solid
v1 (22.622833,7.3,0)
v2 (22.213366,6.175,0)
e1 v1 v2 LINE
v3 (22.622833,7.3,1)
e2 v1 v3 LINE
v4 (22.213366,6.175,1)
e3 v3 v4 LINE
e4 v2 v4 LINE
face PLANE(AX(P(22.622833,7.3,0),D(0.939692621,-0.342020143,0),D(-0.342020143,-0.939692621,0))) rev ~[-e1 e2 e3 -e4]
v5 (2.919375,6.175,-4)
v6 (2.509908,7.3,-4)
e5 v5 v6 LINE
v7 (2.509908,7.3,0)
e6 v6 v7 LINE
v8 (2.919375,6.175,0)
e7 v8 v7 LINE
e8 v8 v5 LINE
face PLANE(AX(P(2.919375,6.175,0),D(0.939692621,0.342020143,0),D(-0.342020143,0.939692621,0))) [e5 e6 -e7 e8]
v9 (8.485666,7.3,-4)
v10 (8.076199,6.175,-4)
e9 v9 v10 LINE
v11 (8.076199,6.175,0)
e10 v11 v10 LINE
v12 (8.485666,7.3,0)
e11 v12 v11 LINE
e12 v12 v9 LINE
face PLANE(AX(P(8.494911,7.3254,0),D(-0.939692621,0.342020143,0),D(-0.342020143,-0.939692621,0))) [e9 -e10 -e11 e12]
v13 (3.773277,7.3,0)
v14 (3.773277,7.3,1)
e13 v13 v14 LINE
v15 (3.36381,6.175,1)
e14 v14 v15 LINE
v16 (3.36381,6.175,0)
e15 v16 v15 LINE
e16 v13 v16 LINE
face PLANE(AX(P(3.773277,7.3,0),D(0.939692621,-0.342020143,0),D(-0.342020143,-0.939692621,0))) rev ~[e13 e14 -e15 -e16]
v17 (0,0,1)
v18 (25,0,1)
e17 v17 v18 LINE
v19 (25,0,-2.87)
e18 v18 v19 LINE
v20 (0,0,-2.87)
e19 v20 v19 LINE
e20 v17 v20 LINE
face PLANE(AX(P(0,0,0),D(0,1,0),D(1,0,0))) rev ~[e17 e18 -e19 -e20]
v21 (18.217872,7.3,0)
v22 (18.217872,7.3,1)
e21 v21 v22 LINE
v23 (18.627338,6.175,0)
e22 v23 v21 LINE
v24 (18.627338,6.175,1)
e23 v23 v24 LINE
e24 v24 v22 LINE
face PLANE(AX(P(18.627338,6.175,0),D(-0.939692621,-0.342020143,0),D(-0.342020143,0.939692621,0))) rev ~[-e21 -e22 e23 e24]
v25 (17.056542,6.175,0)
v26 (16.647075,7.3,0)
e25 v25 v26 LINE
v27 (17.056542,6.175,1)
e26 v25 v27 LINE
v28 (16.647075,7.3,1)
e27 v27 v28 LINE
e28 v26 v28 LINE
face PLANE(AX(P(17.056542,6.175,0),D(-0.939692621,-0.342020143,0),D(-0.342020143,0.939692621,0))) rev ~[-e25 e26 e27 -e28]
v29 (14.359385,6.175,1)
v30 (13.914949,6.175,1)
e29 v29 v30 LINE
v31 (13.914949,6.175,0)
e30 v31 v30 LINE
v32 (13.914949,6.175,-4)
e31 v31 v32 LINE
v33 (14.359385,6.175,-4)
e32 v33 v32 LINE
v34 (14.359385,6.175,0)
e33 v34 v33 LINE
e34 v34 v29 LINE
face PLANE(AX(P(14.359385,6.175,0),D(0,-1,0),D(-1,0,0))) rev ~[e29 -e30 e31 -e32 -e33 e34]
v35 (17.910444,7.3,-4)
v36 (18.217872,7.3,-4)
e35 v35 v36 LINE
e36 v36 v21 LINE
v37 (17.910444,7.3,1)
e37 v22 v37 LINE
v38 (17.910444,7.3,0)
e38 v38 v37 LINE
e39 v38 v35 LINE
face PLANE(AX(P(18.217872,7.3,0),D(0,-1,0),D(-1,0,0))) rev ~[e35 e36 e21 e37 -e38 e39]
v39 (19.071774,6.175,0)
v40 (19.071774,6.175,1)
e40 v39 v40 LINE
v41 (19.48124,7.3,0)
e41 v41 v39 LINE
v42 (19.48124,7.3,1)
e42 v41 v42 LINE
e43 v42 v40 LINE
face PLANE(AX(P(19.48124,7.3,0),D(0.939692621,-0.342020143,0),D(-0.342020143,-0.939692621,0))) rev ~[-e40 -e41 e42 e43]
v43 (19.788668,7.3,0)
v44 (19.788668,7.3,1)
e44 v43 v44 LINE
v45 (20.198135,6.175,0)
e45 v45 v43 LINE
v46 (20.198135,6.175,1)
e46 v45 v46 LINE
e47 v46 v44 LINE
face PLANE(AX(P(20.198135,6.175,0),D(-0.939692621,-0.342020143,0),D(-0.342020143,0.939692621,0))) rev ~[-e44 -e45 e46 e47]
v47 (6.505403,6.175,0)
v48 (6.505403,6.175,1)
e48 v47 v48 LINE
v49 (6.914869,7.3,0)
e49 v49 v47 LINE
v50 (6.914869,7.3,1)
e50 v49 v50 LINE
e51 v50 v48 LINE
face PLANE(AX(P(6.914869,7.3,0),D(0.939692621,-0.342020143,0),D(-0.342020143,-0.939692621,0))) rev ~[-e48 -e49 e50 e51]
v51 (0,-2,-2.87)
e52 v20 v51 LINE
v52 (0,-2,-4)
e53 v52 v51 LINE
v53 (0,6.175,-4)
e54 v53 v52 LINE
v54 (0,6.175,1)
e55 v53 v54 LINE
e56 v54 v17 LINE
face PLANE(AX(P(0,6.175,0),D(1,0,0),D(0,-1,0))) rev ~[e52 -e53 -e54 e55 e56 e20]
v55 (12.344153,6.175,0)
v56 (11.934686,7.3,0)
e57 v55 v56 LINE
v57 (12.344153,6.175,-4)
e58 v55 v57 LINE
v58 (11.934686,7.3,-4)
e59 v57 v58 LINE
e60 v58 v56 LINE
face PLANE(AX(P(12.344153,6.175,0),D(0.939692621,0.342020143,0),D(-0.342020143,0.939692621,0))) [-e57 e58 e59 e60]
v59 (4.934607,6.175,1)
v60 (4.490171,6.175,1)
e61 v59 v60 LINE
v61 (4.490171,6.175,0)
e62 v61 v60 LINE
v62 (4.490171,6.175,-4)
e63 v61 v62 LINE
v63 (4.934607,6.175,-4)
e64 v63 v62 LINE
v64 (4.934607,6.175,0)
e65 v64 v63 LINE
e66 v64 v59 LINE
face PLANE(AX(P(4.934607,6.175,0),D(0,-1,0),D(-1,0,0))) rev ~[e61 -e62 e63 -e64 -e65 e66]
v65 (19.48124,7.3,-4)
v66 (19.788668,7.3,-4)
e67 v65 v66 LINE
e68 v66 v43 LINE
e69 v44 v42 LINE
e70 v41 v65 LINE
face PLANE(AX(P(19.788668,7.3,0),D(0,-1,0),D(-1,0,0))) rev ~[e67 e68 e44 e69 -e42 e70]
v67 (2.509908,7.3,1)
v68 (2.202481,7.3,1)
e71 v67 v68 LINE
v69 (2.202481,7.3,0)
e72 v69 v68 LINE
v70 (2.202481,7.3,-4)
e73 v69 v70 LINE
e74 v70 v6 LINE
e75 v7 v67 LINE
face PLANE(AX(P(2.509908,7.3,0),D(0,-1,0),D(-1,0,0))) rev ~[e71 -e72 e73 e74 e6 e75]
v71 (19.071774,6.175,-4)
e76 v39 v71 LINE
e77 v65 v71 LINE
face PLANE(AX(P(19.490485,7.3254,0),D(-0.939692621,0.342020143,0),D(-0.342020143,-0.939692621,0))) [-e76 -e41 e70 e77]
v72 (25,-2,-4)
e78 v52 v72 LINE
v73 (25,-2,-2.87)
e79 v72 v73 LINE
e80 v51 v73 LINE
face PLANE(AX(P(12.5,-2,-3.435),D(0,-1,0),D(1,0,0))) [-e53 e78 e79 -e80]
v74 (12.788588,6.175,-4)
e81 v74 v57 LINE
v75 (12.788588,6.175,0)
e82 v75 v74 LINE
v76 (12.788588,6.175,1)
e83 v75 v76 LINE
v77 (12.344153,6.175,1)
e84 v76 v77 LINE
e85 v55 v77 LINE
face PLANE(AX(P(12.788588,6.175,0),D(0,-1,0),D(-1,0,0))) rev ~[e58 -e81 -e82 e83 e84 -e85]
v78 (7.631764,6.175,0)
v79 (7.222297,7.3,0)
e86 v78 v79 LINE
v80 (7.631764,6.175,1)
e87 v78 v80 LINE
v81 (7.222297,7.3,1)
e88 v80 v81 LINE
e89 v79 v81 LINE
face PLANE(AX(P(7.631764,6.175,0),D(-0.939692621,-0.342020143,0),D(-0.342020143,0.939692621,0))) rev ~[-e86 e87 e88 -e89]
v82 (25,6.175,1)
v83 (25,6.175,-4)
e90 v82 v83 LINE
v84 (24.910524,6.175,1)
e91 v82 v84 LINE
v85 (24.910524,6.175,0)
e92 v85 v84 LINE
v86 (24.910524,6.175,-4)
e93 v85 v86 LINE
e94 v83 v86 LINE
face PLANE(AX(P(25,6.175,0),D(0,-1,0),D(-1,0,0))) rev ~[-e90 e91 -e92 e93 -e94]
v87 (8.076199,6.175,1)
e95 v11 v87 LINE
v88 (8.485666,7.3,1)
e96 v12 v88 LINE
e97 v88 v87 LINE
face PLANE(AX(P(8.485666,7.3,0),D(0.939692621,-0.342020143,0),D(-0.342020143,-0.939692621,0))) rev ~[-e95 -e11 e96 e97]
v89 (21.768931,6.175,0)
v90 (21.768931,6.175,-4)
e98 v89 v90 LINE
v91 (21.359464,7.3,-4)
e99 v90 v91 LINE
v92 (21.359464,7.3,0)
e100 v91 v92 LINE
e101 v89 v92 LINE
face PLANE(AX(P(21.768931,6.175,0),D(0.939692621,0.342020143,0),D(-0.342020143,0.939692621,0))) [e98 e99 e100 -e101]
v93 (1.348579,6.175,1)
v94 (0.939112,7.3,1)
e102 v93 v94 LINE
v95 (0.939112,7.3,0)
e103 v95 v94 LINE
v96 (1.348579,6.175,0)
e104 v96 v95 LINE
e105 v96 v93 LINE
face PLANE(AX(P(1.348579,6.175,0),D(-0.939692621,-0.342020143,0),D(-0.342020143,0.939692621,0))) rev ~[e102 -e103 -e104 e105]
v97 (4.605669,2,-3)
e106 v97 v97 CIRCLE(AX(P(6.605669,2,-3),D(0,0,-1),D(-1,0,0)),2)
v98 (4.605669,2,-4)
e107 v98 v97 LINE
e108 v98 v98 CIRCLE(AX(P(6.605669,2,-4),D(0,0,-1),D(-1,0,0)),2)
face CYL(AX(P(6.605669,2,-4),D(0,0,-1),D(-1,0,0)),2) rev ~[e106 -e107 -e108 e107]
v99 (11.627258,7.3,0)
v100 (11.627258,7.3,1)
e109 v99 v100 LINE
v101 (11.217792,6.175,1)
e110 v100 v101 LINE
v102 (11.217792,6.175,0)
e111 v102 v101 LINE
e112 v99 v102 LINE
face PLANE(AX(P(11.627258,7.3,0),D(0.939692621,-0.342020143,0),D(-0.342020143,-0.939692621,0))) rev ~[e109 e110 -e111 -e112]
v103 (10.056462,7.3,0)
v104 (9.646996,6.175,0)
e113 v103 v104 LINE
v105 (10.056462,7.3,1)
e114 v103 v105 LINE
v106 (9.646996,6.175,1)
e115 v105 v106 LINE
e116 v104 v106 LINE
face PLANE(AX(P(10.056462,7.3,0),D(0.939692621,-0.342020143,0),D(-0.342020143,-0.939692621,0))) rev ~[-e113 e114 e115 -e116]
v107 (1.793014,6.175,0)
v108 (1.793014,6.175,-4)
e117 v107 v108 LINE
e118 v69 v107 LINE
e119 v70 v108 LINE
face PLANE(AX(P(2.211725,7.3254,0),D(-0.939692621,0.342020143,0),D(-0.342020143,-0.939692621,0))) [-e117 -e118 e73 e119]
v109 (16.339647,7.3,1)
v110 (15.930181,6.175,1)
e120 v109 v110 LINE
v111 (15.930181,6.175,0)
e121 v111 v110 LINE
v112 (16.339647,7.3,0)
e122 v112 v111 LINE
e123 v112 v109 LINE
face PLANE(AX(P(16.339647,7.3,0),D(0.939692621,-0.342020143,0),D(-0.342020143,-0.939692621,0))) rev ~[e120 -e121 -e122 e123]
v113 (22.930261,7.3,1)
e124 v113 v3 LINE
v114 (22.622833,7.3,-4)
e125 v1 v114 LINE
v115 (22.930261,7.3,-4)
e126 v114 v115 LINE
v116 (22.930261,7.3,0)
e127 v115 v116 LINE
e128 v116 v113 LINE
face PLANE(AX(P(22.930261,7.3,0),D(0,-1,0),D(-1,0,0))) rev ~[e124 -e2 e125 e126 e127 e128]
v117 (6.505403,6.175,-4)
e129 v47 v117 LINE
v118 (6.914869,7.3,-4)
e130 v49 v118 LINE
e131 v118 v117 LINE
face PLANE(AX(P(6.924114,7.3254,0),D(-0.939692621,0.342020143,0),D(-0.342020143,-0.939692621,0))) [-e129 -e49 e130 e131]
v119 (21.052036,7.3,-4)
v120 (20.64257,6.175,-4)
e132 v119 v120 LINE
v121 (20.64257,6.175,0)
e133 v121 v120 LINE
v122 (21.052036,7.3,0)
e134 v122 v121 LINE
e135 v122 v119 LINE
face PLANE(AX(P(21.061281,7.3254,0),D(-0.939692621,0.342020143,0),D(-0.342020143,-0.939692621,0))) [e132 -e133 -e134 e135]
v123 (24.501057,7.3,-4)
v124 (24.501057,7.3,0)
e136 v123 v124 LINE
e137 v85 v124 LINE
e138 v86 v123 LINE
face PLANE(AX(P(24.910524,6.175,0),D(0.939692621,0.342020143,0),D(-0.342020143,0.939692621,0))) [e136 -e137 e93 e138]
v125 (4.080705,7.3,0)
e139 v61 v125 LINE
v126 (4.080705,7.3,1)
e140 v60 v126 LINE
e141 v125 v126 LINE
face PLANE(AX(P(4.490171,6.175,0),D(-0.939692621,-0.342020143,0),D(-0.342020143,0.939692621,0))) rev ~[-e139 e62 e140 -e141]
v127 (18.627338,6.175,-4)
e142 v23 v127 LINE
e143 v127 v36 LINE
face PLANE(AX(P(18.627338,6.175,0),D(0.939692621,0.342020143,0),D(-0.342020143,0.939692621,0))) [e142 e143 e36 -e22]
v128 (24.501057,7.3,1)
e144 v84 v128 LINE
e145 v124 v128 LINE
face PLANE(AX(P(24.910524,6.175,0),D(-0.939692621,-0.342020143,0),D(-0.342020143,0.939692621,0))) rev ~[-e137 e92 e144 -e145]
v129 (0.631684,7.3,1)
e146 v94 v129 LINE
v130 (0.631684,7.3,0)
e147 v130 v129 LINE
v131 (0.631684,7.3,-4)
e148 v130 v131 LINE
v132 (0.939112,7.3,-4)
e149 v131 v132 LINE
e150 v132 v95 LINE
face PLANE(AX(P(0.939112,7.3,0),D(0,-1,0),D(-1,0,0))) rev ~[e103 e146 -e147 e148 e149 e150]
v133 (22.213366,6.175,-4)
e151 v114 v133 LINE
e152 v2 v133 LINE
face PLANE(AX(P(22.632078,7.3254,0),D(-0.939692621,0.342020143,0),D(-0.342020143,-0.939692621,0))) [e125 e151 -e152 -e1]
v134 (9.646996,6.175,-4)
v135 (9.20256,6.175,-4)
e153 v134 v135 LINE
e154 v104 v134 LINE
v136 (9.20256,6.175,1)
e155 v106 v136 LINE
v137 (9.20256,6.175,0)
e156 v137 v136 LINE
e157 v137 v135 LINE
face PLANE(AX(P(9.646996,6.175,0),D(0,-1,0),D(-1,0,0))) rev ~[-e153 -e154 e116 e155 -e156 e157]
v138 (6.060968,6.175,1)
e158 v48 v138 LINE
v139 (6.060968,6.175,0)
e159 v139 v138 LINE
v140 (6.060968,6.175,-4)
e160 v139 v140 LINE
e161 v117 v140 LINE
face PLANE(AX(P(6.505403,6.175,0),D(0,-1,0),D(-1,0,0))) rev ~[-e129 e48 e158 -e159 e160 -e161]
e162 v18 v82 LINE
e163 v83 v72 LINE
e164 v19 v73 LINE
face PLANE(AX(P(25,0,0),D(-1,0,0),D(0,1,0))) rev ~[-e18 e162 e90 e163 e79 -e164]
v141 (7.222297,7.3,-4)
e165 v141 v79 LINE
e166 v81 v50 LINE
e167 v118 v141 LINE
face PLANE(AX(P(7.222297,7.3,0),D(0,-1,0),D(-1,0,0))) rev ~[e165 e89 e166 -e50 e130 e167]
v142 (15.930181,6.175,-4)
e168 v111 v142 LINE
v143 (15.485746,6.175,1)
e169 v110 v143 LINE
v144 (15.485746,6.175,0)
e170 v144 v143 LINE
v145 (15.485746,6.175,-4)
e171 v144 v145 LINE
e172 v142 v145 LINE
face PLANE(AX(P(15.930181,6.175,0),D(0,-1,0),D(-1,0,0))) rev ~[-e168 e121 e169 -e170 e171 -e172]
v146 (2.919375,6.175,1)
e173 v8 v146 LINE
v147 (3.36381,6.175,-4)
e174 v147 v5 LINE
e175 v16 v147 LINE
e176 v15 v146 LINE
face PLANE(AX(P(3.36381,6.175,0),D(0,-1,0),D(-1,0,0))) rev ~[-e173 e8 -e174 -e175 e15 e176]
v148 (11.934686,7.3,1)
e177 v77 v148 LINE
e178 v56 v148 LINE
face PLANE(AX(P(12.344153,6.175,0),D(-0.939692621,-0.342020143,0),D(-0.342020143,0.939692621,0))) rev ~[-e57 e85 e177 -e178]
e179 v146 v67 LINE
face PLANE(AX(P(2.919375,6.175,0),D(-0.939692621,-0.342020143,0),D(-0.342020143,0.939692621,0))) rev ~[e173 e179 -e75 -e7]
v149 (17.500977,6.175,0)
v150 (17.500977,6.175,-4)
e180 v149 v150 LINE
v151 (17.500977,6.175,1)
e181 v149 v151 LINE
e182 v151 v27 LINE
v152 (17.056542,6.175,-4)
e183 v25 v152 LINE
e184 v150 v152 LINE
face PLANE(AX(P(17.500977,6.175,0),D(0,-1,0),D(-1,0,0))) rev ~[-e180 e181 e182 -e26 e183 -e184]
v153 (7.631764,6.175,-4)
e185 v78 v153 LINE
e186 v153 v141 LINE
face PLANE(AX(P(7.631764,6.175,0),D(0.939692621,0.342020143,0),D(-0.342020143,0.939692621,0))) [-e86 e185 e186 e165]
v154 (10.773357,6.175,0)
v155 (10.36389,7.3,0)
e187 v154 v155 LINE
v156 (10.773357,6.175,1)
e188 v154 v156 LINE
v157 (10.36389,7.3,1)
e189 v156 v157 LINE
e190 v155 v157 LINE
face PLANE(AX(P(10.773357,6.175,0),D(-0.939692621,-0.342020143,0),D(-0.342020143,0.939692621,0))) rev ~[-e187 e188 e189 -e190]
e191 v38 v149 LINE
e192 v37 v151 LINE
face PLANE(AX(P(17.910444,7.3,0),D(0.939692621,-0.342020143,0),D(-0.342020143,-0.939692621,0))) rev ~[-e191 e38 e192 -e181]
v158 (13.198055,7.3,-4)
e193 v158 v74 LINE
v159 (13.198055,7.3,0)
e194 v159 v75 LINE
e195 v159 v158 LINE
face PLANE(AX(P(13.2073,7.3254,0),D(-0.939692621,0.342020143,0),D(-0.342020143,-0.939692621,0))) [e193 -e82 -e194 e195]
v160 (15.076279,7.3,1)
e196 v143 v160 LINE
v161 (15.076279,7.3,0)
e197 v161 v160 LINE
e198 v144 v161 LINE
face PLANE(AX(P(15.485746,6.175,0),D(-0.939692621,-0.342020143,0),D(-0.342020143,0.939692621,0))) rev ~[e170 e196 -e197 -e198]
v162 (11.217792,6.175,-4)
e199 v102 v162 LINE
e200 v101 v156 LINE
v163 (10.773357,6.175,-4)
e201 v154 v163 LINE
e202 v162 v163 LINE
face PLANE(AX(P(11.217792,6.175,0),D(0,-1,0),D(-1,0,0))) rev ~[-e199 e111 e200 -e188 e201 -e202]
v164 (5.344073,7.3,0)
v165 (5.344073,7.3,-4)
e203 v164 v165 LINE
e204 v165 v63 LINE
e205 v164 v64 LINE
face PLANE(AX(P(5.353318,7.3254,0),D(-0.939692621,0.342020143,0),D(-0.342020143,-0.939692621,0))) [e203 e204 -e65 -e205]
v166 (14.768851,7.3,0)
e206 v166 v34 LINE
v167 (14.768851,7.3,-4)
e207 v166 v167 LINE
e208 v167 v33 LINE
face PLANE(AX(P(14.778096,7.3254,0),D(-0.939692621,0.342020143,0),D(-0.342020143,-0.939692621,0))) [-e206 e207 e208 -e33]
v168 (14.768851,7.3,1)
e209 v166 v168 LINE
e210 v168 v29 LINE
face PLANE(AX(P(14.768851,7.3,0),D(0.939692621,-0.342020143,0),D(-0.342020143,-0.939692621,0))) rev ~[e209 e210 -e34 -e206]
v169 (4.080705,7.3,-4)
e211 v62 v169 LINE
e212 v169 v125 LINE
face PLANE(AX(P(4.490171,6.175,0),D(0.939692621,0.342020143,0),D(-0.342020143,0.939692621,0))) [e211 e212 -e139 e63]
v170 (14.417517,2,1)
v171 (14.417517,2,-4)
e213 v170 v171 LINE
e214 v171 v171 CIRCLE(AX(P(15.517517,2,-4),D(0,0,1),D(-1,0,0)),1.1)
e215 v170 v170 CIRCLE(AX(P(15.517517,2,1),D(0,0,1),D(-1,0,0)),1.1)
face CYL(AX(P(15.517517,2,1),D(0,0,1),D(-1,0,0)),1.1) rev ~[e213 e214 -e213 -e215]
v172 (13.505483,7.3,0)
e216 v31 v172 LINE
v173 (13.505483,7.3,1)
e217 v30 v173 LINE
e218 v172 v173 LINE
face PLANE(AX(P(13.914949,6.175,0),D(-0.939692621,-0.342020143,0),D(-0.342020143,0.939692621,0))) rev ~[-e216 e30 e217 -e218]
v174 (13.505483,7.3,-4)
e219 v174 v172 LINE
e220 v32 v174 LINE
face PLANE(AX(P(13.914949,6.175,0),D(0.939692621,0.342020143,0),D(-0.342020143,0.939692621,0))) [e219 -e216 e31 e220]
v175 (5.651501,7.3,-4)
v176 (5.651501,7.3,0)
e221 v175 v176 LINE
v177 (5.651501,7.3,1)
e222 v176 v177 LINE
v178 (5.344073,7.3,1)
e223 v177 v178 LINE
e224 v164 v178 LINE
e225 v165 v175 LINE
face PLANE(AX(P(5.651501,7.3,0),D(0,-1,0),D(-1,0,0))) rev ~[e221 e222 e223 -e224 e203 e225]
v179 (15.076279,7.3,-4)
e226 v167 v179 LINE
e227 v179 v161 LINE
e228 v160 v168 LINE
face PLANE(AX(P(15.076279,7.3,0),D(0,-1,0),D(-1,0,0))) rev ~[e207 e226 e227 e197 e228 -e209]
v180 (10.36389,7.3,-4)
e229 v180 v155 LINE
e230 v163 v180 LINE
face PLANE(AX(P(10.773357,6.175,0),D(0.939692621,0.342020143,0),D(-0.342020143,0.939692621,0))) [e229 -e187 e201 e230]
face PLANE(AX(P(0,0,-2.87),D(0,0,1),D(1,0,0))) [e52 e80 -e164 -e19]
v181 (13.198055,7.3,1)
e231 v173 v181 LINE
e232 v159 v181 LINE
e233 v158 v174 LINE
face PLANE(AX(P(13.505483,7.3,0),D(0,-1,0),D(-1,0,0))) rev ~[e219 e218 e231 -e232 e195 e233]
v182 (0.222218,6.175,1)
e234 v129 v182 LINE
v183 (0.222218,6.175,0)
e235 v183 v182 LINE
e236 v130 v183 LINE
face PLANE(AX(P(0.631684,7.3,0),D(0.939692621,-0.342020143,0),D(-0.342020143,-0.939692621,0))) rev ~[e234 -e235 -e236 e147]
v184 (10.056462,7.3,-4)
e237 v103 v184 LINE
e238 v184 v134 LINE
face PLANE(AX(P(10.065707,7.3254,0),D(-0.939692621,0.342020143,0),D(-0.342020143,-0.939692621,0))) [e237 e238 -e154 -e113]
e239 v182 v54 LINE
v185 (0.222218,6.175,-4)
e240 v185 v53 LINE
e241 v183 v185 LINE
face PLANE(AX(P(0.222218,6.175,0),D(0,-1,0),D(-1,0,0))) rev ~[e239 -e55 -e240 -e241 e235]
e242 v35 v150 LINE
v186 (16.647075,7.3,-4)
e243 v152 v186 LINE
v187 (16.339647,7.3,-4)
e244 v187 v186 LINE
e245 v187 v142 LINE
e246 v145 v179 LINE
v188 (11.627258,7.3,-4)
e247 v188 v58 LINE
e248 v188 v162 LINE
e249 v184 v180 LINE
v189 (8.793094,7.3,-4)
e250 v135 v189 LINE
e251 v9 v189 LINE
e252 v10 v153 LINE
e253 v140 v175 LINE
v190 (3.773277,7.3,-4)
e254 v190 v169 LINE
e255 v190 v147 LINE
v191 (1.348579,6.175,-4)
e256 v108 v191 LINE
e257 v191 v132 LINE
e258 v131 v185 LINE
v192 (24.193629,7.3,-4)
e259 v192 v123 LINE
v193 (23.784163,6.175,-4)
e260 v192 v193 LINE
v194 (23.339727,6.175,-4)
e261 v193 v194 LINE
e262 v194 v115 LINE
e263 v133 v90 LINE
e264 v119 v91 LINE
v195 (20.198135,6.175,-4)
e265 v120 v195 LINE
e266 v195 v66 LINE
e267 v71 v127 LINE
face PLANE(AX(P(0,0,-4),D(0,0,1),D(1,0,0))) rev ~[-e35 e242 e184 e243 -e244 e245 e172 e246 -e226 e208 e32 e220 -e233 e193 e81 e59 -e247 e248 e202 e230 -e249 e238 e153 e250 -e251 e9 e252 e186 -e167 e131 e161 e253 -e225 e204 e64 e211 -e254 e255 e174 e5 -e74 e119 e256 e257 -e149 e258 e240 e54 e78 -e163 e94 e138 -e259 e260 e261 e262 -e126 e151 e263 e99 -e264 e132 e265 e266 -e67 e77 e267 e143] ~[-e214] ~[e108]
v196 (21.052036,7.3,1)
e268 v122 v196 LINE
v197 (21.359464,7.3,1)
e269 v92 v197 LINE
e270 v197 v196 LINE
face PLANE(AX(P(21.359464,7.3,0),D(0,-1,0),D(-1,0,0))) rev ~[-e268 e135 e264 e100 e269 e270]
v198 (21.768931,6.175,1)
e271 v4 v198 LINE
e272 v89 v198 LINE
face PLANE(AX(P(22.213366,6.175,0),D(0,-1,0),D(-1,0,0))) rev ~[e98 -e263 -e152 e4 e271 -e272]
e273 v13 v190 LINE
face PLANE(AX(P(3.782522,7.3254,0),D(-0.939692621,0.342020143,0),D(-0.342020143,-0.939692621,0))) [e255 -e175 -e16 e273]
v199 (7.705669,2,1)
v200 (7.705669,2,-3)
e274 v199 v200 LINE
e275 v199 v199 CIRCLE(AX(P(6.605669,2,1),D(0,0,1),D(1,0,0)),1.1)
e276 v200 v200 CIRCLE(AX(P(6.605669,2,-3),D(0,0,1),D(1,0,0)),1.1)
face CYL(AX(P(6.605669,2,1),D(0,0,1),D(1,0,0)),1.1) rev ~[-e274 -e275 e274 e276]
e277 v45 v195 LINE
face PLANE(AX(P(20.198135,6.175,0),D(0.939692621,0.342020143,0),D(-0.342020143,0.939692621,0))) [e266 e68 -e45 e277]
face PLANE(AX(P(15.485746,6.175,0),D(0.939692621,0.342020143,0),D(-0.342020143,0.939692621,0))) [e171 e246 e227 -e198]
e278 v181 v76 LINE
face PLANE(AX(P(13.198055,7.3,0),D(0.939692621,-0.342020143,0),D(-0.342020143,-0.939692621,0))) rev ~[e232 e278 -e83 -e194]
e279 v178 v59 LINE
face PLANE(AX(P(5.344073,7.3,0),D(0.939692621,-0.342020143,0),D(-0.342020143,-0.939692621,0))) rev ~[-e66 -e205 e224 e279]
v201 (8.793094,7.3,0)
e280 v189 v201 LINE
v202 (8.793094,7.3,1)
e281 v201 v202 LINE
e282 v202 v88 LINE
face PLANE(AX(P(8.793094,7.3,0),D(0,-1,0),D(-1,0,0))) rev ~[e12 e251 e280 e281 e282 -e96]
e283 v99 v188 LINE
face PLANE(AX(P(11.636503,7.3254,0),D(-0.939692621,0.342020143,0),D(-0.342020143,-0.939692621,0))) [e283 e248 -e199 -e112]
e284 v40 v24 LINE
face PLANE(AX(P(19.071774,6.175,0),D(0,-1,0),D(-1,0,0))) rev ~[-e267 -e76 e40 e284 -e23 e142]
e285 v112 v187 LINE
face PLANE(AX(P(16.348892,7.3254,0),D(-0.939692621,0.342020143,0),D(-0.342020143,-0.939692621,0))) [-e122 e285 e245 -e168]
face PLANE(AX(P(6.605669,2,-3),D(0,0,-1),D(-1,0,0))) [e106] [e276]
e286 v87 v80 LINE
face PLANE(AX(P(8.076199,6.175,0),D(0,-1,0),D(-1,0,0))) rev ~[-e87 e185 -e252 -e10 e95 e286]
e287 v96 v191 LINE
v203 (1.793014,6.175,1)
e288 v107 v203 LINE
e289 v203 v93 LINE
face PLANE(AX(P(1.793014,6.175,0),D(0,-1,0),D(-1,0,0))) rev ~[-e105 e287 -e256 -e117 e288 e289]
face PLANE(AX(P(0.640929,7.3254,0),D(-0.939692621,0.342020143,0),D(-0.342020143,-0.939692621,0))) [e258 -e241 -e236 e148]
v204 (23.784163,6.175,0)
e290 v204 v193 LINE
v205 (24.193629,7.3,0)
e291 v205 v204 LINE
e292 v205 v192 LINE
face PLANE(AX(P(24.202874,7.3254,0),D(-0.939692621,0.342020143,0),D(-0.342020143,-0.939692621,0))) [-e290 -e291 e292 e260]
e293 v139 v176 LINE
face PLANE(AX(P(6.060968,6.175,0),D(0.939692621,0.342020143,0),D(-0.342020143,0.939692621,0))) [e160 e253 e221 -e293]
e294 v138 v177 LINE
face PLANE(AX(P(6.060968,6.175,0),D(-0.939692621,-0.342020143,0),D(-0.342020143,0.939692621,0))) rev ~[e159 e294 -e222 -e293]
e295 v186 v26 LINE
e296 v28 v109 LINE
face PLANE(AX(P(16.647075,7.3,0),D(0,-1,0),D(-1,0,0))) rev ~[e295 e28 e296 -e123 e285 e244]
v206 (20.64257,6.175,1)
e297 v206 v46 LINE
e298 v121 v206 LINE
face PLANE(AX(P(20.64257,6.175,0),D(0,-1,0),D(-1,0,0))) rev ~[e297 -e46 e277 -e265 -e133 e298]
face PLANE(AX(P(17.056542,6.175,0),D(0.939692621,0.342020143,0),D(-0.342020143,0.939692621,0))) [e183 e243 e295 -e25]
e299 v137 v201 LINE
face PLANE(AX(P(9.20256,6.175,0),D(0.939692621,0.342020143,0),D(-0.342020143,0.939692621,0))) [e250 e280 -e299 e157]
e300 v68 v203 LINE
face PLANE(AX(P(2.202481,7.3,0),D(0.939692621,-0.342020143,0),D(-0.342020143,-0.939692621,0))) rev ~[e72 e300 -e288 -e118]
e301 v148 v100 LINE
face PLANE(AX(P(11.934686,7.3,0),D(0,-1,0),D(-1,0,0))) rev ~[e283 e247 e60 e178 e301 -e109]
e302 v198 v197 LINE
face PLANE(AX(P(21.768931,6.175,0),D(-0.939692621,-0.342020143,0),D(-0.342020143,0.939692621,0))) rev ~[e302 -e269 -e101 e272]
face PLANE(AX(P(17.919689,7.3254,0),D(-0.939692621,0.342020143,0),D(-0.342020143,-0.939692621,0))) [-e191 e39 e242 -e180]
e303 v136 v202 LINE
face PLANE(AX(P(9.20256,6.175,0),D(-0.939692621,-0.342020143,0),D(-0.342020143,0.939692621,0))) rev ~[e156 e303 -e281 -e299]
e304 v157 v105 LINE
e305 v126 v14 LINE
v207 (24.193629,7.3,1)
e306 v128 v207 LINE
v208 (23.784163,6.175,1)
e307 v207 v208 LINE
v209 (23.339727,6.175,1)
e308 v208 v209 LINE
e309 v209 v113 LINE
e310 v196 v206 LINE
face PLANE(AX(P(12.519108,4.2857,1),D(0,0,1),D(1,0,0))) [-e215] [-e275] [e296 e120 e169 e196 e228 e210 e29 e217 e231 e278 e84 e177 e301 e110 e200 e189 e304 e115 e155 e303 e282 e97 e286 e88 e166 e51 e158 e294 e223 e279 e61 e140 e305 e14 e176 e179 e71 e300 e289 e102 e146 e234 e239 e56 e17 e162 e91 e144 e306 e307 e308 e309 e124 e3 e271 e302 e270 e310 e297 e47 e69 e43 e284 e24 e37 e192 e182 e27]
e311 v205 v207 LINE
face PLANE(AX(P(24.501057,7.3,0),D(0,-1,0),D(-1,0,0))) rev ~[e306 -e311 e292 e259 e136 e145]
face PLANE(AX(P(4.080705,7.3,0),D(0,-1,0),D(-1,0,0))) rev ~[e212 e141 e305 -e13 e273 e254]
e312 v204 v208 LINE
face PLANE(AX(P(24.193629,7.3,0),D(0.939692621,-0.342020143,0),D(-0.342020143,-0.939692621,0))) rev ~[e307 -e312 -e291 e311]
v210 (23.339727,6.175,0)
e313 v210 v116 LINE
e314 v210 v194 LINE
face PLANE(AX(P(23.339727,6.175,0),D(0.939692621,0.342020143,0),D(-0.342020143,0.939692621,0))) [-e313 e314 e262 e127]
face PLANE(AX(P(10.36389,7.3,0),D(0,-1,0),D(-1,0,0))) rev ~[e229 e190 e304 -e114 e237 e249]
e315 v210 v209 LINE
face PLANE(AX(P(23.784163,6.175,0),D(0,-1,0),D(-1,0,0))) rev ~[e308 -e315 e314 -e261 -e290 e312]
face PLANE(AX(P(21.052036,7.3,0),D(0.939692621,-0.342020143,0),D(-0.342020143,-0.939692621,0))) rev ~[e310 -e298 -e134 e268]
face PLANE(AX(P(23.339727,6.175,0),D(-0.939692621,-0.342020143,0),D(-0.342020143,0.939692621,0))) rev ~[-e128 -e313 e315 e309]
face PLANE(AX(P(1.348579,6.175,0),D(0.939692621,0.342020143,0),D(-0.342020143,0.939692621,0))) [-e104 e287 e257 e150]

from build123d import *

# Parameters (mm, degrees)
BLANKSKE_W          = 25
BLANKSKE_H          = 7.3
BLANK_DEPTH         = 4
TOOTHCUTSIM_DEPTH   = 27.349383294
TEETHCUTS_COUNT     = 17
TEETHCUTS_PITCH     = 1.570796325
SKETCH4_W           = 25
SKETCH4_H           = 1.13
BOSS_EXTRUDE1_DEPTH = 2
BOSS_EXTRUDE2_DEPTH = 1
CUT_EXTRUDE1_DEPTH  = 10
SKETCH10_R          = 2
CUT_EXTRUDE3_DEPTH  = 1


with BuildPart() as part:
    # BlankSke → Blank (new body)
    with BuildSketch(Plane.XY):
        with Locations((12.5, 3.65)):
            Rectangle(BLANKSKE_W, BLANKSKE_H)
    extrude(amount=-BLANK_DEPTH)

    # TooCutSkeSim → ToothCutSim (cut, through all)
    with BuildSketch(Plane.XY):
        Polygon((0.222217685, 6.175), (-0.222217685, 6.175), (-0.640929042, 7.3254), (0.640929042, 7.3254), align=None)
    toothcutsim = extrude(amount=-TOOTHCUTSIM_DEPTH, mode=Mode.SUBTRACT)

    # TeethCuts: ToothCutSim ×17
    with Locations(*[(i * TEETHCUTS_PITCH, 0, 0) for i in range(1, TEETHCUTS_COUNT)]):
        add(toothcutsim, mode=Mode.SUBTRACT)

    # Sketch4 → Boss-Extrude1 (add)
    with BuildSketch(Plane.XZ):
        with Locations((12.5, -3.435)):
            Rectangle(SKETCH4_W, SKETCH4_H)
    extrude(amount=BOSS_EXTRUDE1_DEPTH)

    # Sketch7 → Boss-Extrude2 (add)
    with BuildSketch(Plane.XY):
        Polygon((25, 6.175), (24.910523515, 6.175), (24.501057002, 7.3), (24.193629073, 7.3), (23.78416256, 6.175), (23.33972719, 6.175), (22.930260677, 7.3), (22.622832748, 7.3), (22.213366235, 6.175), (21.768930865, 6.175), (21.359464352, 7.3), (21.052036423, 7.3), (20.64256991, 6.175), (20.19813454, 6.175), (19.788668027, 7.3), (19.481240098, 7.3), (19.071773585, 6.175), (18.627338215, 6.175), (18.217871702, 7.3), (17.910443773, 7.3), (17.50097726, 6.175), (17.05654189, 6.175), (16.647075377, 7.3), (16.339647448, 7.3), (15.930180935, 6.175), (15.485745565, 6.175), (15.076279052, 7.3), (14.768851123, 7.3), (14.35938461, 6.175), (13.91494924, 6.175), (13.505482727, 7.3), (13.198054798, 7.3), (12.788588285, 6.175), (12.344152915, 6.175), (11.934686402, 7.3), (11.627258473, 7.3), (11.21779196, 6.175), (10.77335659, 6.175), (10.363890077, 7.3), (10.056462148, 7.3), (9.646995635, 6.175), (9.202560265, 6.175), (8.793093752, 7.3), (8.485665823, 7.3), (8.07619931, 6.175), (7.63176394, 6.175), (7.222297427, 7.3), (6.914869498, 7.3), (6.505402985, 6.175), (6.060967615, 6.175), (5.651501102, 7.3), (5.344073173, 7.3), (4.93460666, 6.175), (4.49017129, 6.175), (4.080704777, 7.3), (3.773276848, 7.3), (3.363810335, 6.175), (2.919374965, 6.175), (2.509908452, 7.3), (2.202480523, 7.3), (1.79301401, 6.175), (1.34857864, 6.175), (0.939112127, 7.3), (0.631684198, 7.3), (0.222217685, 6.175), (0, 6.175), (0, 0), (25, 0), align=None)
    extrude(amount=BOSS_EXTRUDE2_DEPTH)

    # Sketch8 → Cut-Extrude1 (cut)
    with BuildSketch(Plane.XY.offset(1)):
        with BuildLine():
            ThreePointArc((16.617517337, 2), (15.517517337, 3.1), (14.417517337, 2))
            Line((14.417517337, 2), (15.517517337, 2))
            Line((15.517517337, 2), (16.617517337, 2))
        make_face()
        with BuildLine():
            Line((15.517517337, 2), (14.417517337, 2))
            ThreePointArc((14.417517337, 2), (15.517517337, 0.9), (16.617517337, 2))
            Line((16.617517337, 2), (15.517517337, 2))
        make_face()
        with BuildLine():
            ThreePointArc((16.617517337, 2), (15.517517337, 3.1), (14.417517337, 2))
            Line((14.417517337, 2), (15.517517337, 2))
            Line((15.517517337, 2), (16.617517337, 2))
        make_face()
        with BuildLine():
            Line((15.517517337, 2), (14.417517337, 2))
            ThreePointArc((14.417517337, 2), (15.517517337, 0.9), (16.617517337, 2))
            Line((16.617517337, 2), (15.517517337, 2))
        make_face()
        with BuildLine():
            Line((7.705669439, 2), (6.605669439, 2))
            Line((6.605669439, 2), (5.505669439, 2))
            ThreePointArc((5.505669439, 2), (6.605669439, 0.9), (7.705669439, 2))
        make_face()
        with BuildLine():
            Line((5.505669439, 2), (6.605669439, 2))
            Line((6.605669439, 2), (7.705669439, 2))
            ThreePointArc((7.705669439, 2), (6.605669439, 3.1), (5.505669439, 2))
        make_face()
        with BuildLine():
            Line((7.705669439, 2), (6.605669439, 2))
            Line((6.605669439, 2), (5.505669439, 2))
            ThreePointArc((5.505669439, 2), (6.605669439, 0.9), (7.705669439, 2))
        make_face()
        with BuildLine():
            Line((5.505669439, 2), (6.605669439, 2))
            Line((6.605669439, 2), (7.705669439, 2))
            ThreePointArc((7.705669439, 2), (6.605669439, 3.1), (5.505669439, 2))
        make_face()
    extrude(amount=-CUT_EXTRUDE1_DEPTH, mode=Mode.SUBTRACT)

    # Sketch10 → Cut-Extrude3 (cut)
    with BuildSketch(Plane(origin=(0, 0, -4), x_dir=(-1, 0, 0), z_dir=(0, 0, -1))):
        with Locations((-6.605669439, 2)):
            Circle(SKETCH10_R)
    extrude(amount=-CUT_EXTRUDE3_DEPTH, mode=Mode.SUBTRACT)


solid = part.part
